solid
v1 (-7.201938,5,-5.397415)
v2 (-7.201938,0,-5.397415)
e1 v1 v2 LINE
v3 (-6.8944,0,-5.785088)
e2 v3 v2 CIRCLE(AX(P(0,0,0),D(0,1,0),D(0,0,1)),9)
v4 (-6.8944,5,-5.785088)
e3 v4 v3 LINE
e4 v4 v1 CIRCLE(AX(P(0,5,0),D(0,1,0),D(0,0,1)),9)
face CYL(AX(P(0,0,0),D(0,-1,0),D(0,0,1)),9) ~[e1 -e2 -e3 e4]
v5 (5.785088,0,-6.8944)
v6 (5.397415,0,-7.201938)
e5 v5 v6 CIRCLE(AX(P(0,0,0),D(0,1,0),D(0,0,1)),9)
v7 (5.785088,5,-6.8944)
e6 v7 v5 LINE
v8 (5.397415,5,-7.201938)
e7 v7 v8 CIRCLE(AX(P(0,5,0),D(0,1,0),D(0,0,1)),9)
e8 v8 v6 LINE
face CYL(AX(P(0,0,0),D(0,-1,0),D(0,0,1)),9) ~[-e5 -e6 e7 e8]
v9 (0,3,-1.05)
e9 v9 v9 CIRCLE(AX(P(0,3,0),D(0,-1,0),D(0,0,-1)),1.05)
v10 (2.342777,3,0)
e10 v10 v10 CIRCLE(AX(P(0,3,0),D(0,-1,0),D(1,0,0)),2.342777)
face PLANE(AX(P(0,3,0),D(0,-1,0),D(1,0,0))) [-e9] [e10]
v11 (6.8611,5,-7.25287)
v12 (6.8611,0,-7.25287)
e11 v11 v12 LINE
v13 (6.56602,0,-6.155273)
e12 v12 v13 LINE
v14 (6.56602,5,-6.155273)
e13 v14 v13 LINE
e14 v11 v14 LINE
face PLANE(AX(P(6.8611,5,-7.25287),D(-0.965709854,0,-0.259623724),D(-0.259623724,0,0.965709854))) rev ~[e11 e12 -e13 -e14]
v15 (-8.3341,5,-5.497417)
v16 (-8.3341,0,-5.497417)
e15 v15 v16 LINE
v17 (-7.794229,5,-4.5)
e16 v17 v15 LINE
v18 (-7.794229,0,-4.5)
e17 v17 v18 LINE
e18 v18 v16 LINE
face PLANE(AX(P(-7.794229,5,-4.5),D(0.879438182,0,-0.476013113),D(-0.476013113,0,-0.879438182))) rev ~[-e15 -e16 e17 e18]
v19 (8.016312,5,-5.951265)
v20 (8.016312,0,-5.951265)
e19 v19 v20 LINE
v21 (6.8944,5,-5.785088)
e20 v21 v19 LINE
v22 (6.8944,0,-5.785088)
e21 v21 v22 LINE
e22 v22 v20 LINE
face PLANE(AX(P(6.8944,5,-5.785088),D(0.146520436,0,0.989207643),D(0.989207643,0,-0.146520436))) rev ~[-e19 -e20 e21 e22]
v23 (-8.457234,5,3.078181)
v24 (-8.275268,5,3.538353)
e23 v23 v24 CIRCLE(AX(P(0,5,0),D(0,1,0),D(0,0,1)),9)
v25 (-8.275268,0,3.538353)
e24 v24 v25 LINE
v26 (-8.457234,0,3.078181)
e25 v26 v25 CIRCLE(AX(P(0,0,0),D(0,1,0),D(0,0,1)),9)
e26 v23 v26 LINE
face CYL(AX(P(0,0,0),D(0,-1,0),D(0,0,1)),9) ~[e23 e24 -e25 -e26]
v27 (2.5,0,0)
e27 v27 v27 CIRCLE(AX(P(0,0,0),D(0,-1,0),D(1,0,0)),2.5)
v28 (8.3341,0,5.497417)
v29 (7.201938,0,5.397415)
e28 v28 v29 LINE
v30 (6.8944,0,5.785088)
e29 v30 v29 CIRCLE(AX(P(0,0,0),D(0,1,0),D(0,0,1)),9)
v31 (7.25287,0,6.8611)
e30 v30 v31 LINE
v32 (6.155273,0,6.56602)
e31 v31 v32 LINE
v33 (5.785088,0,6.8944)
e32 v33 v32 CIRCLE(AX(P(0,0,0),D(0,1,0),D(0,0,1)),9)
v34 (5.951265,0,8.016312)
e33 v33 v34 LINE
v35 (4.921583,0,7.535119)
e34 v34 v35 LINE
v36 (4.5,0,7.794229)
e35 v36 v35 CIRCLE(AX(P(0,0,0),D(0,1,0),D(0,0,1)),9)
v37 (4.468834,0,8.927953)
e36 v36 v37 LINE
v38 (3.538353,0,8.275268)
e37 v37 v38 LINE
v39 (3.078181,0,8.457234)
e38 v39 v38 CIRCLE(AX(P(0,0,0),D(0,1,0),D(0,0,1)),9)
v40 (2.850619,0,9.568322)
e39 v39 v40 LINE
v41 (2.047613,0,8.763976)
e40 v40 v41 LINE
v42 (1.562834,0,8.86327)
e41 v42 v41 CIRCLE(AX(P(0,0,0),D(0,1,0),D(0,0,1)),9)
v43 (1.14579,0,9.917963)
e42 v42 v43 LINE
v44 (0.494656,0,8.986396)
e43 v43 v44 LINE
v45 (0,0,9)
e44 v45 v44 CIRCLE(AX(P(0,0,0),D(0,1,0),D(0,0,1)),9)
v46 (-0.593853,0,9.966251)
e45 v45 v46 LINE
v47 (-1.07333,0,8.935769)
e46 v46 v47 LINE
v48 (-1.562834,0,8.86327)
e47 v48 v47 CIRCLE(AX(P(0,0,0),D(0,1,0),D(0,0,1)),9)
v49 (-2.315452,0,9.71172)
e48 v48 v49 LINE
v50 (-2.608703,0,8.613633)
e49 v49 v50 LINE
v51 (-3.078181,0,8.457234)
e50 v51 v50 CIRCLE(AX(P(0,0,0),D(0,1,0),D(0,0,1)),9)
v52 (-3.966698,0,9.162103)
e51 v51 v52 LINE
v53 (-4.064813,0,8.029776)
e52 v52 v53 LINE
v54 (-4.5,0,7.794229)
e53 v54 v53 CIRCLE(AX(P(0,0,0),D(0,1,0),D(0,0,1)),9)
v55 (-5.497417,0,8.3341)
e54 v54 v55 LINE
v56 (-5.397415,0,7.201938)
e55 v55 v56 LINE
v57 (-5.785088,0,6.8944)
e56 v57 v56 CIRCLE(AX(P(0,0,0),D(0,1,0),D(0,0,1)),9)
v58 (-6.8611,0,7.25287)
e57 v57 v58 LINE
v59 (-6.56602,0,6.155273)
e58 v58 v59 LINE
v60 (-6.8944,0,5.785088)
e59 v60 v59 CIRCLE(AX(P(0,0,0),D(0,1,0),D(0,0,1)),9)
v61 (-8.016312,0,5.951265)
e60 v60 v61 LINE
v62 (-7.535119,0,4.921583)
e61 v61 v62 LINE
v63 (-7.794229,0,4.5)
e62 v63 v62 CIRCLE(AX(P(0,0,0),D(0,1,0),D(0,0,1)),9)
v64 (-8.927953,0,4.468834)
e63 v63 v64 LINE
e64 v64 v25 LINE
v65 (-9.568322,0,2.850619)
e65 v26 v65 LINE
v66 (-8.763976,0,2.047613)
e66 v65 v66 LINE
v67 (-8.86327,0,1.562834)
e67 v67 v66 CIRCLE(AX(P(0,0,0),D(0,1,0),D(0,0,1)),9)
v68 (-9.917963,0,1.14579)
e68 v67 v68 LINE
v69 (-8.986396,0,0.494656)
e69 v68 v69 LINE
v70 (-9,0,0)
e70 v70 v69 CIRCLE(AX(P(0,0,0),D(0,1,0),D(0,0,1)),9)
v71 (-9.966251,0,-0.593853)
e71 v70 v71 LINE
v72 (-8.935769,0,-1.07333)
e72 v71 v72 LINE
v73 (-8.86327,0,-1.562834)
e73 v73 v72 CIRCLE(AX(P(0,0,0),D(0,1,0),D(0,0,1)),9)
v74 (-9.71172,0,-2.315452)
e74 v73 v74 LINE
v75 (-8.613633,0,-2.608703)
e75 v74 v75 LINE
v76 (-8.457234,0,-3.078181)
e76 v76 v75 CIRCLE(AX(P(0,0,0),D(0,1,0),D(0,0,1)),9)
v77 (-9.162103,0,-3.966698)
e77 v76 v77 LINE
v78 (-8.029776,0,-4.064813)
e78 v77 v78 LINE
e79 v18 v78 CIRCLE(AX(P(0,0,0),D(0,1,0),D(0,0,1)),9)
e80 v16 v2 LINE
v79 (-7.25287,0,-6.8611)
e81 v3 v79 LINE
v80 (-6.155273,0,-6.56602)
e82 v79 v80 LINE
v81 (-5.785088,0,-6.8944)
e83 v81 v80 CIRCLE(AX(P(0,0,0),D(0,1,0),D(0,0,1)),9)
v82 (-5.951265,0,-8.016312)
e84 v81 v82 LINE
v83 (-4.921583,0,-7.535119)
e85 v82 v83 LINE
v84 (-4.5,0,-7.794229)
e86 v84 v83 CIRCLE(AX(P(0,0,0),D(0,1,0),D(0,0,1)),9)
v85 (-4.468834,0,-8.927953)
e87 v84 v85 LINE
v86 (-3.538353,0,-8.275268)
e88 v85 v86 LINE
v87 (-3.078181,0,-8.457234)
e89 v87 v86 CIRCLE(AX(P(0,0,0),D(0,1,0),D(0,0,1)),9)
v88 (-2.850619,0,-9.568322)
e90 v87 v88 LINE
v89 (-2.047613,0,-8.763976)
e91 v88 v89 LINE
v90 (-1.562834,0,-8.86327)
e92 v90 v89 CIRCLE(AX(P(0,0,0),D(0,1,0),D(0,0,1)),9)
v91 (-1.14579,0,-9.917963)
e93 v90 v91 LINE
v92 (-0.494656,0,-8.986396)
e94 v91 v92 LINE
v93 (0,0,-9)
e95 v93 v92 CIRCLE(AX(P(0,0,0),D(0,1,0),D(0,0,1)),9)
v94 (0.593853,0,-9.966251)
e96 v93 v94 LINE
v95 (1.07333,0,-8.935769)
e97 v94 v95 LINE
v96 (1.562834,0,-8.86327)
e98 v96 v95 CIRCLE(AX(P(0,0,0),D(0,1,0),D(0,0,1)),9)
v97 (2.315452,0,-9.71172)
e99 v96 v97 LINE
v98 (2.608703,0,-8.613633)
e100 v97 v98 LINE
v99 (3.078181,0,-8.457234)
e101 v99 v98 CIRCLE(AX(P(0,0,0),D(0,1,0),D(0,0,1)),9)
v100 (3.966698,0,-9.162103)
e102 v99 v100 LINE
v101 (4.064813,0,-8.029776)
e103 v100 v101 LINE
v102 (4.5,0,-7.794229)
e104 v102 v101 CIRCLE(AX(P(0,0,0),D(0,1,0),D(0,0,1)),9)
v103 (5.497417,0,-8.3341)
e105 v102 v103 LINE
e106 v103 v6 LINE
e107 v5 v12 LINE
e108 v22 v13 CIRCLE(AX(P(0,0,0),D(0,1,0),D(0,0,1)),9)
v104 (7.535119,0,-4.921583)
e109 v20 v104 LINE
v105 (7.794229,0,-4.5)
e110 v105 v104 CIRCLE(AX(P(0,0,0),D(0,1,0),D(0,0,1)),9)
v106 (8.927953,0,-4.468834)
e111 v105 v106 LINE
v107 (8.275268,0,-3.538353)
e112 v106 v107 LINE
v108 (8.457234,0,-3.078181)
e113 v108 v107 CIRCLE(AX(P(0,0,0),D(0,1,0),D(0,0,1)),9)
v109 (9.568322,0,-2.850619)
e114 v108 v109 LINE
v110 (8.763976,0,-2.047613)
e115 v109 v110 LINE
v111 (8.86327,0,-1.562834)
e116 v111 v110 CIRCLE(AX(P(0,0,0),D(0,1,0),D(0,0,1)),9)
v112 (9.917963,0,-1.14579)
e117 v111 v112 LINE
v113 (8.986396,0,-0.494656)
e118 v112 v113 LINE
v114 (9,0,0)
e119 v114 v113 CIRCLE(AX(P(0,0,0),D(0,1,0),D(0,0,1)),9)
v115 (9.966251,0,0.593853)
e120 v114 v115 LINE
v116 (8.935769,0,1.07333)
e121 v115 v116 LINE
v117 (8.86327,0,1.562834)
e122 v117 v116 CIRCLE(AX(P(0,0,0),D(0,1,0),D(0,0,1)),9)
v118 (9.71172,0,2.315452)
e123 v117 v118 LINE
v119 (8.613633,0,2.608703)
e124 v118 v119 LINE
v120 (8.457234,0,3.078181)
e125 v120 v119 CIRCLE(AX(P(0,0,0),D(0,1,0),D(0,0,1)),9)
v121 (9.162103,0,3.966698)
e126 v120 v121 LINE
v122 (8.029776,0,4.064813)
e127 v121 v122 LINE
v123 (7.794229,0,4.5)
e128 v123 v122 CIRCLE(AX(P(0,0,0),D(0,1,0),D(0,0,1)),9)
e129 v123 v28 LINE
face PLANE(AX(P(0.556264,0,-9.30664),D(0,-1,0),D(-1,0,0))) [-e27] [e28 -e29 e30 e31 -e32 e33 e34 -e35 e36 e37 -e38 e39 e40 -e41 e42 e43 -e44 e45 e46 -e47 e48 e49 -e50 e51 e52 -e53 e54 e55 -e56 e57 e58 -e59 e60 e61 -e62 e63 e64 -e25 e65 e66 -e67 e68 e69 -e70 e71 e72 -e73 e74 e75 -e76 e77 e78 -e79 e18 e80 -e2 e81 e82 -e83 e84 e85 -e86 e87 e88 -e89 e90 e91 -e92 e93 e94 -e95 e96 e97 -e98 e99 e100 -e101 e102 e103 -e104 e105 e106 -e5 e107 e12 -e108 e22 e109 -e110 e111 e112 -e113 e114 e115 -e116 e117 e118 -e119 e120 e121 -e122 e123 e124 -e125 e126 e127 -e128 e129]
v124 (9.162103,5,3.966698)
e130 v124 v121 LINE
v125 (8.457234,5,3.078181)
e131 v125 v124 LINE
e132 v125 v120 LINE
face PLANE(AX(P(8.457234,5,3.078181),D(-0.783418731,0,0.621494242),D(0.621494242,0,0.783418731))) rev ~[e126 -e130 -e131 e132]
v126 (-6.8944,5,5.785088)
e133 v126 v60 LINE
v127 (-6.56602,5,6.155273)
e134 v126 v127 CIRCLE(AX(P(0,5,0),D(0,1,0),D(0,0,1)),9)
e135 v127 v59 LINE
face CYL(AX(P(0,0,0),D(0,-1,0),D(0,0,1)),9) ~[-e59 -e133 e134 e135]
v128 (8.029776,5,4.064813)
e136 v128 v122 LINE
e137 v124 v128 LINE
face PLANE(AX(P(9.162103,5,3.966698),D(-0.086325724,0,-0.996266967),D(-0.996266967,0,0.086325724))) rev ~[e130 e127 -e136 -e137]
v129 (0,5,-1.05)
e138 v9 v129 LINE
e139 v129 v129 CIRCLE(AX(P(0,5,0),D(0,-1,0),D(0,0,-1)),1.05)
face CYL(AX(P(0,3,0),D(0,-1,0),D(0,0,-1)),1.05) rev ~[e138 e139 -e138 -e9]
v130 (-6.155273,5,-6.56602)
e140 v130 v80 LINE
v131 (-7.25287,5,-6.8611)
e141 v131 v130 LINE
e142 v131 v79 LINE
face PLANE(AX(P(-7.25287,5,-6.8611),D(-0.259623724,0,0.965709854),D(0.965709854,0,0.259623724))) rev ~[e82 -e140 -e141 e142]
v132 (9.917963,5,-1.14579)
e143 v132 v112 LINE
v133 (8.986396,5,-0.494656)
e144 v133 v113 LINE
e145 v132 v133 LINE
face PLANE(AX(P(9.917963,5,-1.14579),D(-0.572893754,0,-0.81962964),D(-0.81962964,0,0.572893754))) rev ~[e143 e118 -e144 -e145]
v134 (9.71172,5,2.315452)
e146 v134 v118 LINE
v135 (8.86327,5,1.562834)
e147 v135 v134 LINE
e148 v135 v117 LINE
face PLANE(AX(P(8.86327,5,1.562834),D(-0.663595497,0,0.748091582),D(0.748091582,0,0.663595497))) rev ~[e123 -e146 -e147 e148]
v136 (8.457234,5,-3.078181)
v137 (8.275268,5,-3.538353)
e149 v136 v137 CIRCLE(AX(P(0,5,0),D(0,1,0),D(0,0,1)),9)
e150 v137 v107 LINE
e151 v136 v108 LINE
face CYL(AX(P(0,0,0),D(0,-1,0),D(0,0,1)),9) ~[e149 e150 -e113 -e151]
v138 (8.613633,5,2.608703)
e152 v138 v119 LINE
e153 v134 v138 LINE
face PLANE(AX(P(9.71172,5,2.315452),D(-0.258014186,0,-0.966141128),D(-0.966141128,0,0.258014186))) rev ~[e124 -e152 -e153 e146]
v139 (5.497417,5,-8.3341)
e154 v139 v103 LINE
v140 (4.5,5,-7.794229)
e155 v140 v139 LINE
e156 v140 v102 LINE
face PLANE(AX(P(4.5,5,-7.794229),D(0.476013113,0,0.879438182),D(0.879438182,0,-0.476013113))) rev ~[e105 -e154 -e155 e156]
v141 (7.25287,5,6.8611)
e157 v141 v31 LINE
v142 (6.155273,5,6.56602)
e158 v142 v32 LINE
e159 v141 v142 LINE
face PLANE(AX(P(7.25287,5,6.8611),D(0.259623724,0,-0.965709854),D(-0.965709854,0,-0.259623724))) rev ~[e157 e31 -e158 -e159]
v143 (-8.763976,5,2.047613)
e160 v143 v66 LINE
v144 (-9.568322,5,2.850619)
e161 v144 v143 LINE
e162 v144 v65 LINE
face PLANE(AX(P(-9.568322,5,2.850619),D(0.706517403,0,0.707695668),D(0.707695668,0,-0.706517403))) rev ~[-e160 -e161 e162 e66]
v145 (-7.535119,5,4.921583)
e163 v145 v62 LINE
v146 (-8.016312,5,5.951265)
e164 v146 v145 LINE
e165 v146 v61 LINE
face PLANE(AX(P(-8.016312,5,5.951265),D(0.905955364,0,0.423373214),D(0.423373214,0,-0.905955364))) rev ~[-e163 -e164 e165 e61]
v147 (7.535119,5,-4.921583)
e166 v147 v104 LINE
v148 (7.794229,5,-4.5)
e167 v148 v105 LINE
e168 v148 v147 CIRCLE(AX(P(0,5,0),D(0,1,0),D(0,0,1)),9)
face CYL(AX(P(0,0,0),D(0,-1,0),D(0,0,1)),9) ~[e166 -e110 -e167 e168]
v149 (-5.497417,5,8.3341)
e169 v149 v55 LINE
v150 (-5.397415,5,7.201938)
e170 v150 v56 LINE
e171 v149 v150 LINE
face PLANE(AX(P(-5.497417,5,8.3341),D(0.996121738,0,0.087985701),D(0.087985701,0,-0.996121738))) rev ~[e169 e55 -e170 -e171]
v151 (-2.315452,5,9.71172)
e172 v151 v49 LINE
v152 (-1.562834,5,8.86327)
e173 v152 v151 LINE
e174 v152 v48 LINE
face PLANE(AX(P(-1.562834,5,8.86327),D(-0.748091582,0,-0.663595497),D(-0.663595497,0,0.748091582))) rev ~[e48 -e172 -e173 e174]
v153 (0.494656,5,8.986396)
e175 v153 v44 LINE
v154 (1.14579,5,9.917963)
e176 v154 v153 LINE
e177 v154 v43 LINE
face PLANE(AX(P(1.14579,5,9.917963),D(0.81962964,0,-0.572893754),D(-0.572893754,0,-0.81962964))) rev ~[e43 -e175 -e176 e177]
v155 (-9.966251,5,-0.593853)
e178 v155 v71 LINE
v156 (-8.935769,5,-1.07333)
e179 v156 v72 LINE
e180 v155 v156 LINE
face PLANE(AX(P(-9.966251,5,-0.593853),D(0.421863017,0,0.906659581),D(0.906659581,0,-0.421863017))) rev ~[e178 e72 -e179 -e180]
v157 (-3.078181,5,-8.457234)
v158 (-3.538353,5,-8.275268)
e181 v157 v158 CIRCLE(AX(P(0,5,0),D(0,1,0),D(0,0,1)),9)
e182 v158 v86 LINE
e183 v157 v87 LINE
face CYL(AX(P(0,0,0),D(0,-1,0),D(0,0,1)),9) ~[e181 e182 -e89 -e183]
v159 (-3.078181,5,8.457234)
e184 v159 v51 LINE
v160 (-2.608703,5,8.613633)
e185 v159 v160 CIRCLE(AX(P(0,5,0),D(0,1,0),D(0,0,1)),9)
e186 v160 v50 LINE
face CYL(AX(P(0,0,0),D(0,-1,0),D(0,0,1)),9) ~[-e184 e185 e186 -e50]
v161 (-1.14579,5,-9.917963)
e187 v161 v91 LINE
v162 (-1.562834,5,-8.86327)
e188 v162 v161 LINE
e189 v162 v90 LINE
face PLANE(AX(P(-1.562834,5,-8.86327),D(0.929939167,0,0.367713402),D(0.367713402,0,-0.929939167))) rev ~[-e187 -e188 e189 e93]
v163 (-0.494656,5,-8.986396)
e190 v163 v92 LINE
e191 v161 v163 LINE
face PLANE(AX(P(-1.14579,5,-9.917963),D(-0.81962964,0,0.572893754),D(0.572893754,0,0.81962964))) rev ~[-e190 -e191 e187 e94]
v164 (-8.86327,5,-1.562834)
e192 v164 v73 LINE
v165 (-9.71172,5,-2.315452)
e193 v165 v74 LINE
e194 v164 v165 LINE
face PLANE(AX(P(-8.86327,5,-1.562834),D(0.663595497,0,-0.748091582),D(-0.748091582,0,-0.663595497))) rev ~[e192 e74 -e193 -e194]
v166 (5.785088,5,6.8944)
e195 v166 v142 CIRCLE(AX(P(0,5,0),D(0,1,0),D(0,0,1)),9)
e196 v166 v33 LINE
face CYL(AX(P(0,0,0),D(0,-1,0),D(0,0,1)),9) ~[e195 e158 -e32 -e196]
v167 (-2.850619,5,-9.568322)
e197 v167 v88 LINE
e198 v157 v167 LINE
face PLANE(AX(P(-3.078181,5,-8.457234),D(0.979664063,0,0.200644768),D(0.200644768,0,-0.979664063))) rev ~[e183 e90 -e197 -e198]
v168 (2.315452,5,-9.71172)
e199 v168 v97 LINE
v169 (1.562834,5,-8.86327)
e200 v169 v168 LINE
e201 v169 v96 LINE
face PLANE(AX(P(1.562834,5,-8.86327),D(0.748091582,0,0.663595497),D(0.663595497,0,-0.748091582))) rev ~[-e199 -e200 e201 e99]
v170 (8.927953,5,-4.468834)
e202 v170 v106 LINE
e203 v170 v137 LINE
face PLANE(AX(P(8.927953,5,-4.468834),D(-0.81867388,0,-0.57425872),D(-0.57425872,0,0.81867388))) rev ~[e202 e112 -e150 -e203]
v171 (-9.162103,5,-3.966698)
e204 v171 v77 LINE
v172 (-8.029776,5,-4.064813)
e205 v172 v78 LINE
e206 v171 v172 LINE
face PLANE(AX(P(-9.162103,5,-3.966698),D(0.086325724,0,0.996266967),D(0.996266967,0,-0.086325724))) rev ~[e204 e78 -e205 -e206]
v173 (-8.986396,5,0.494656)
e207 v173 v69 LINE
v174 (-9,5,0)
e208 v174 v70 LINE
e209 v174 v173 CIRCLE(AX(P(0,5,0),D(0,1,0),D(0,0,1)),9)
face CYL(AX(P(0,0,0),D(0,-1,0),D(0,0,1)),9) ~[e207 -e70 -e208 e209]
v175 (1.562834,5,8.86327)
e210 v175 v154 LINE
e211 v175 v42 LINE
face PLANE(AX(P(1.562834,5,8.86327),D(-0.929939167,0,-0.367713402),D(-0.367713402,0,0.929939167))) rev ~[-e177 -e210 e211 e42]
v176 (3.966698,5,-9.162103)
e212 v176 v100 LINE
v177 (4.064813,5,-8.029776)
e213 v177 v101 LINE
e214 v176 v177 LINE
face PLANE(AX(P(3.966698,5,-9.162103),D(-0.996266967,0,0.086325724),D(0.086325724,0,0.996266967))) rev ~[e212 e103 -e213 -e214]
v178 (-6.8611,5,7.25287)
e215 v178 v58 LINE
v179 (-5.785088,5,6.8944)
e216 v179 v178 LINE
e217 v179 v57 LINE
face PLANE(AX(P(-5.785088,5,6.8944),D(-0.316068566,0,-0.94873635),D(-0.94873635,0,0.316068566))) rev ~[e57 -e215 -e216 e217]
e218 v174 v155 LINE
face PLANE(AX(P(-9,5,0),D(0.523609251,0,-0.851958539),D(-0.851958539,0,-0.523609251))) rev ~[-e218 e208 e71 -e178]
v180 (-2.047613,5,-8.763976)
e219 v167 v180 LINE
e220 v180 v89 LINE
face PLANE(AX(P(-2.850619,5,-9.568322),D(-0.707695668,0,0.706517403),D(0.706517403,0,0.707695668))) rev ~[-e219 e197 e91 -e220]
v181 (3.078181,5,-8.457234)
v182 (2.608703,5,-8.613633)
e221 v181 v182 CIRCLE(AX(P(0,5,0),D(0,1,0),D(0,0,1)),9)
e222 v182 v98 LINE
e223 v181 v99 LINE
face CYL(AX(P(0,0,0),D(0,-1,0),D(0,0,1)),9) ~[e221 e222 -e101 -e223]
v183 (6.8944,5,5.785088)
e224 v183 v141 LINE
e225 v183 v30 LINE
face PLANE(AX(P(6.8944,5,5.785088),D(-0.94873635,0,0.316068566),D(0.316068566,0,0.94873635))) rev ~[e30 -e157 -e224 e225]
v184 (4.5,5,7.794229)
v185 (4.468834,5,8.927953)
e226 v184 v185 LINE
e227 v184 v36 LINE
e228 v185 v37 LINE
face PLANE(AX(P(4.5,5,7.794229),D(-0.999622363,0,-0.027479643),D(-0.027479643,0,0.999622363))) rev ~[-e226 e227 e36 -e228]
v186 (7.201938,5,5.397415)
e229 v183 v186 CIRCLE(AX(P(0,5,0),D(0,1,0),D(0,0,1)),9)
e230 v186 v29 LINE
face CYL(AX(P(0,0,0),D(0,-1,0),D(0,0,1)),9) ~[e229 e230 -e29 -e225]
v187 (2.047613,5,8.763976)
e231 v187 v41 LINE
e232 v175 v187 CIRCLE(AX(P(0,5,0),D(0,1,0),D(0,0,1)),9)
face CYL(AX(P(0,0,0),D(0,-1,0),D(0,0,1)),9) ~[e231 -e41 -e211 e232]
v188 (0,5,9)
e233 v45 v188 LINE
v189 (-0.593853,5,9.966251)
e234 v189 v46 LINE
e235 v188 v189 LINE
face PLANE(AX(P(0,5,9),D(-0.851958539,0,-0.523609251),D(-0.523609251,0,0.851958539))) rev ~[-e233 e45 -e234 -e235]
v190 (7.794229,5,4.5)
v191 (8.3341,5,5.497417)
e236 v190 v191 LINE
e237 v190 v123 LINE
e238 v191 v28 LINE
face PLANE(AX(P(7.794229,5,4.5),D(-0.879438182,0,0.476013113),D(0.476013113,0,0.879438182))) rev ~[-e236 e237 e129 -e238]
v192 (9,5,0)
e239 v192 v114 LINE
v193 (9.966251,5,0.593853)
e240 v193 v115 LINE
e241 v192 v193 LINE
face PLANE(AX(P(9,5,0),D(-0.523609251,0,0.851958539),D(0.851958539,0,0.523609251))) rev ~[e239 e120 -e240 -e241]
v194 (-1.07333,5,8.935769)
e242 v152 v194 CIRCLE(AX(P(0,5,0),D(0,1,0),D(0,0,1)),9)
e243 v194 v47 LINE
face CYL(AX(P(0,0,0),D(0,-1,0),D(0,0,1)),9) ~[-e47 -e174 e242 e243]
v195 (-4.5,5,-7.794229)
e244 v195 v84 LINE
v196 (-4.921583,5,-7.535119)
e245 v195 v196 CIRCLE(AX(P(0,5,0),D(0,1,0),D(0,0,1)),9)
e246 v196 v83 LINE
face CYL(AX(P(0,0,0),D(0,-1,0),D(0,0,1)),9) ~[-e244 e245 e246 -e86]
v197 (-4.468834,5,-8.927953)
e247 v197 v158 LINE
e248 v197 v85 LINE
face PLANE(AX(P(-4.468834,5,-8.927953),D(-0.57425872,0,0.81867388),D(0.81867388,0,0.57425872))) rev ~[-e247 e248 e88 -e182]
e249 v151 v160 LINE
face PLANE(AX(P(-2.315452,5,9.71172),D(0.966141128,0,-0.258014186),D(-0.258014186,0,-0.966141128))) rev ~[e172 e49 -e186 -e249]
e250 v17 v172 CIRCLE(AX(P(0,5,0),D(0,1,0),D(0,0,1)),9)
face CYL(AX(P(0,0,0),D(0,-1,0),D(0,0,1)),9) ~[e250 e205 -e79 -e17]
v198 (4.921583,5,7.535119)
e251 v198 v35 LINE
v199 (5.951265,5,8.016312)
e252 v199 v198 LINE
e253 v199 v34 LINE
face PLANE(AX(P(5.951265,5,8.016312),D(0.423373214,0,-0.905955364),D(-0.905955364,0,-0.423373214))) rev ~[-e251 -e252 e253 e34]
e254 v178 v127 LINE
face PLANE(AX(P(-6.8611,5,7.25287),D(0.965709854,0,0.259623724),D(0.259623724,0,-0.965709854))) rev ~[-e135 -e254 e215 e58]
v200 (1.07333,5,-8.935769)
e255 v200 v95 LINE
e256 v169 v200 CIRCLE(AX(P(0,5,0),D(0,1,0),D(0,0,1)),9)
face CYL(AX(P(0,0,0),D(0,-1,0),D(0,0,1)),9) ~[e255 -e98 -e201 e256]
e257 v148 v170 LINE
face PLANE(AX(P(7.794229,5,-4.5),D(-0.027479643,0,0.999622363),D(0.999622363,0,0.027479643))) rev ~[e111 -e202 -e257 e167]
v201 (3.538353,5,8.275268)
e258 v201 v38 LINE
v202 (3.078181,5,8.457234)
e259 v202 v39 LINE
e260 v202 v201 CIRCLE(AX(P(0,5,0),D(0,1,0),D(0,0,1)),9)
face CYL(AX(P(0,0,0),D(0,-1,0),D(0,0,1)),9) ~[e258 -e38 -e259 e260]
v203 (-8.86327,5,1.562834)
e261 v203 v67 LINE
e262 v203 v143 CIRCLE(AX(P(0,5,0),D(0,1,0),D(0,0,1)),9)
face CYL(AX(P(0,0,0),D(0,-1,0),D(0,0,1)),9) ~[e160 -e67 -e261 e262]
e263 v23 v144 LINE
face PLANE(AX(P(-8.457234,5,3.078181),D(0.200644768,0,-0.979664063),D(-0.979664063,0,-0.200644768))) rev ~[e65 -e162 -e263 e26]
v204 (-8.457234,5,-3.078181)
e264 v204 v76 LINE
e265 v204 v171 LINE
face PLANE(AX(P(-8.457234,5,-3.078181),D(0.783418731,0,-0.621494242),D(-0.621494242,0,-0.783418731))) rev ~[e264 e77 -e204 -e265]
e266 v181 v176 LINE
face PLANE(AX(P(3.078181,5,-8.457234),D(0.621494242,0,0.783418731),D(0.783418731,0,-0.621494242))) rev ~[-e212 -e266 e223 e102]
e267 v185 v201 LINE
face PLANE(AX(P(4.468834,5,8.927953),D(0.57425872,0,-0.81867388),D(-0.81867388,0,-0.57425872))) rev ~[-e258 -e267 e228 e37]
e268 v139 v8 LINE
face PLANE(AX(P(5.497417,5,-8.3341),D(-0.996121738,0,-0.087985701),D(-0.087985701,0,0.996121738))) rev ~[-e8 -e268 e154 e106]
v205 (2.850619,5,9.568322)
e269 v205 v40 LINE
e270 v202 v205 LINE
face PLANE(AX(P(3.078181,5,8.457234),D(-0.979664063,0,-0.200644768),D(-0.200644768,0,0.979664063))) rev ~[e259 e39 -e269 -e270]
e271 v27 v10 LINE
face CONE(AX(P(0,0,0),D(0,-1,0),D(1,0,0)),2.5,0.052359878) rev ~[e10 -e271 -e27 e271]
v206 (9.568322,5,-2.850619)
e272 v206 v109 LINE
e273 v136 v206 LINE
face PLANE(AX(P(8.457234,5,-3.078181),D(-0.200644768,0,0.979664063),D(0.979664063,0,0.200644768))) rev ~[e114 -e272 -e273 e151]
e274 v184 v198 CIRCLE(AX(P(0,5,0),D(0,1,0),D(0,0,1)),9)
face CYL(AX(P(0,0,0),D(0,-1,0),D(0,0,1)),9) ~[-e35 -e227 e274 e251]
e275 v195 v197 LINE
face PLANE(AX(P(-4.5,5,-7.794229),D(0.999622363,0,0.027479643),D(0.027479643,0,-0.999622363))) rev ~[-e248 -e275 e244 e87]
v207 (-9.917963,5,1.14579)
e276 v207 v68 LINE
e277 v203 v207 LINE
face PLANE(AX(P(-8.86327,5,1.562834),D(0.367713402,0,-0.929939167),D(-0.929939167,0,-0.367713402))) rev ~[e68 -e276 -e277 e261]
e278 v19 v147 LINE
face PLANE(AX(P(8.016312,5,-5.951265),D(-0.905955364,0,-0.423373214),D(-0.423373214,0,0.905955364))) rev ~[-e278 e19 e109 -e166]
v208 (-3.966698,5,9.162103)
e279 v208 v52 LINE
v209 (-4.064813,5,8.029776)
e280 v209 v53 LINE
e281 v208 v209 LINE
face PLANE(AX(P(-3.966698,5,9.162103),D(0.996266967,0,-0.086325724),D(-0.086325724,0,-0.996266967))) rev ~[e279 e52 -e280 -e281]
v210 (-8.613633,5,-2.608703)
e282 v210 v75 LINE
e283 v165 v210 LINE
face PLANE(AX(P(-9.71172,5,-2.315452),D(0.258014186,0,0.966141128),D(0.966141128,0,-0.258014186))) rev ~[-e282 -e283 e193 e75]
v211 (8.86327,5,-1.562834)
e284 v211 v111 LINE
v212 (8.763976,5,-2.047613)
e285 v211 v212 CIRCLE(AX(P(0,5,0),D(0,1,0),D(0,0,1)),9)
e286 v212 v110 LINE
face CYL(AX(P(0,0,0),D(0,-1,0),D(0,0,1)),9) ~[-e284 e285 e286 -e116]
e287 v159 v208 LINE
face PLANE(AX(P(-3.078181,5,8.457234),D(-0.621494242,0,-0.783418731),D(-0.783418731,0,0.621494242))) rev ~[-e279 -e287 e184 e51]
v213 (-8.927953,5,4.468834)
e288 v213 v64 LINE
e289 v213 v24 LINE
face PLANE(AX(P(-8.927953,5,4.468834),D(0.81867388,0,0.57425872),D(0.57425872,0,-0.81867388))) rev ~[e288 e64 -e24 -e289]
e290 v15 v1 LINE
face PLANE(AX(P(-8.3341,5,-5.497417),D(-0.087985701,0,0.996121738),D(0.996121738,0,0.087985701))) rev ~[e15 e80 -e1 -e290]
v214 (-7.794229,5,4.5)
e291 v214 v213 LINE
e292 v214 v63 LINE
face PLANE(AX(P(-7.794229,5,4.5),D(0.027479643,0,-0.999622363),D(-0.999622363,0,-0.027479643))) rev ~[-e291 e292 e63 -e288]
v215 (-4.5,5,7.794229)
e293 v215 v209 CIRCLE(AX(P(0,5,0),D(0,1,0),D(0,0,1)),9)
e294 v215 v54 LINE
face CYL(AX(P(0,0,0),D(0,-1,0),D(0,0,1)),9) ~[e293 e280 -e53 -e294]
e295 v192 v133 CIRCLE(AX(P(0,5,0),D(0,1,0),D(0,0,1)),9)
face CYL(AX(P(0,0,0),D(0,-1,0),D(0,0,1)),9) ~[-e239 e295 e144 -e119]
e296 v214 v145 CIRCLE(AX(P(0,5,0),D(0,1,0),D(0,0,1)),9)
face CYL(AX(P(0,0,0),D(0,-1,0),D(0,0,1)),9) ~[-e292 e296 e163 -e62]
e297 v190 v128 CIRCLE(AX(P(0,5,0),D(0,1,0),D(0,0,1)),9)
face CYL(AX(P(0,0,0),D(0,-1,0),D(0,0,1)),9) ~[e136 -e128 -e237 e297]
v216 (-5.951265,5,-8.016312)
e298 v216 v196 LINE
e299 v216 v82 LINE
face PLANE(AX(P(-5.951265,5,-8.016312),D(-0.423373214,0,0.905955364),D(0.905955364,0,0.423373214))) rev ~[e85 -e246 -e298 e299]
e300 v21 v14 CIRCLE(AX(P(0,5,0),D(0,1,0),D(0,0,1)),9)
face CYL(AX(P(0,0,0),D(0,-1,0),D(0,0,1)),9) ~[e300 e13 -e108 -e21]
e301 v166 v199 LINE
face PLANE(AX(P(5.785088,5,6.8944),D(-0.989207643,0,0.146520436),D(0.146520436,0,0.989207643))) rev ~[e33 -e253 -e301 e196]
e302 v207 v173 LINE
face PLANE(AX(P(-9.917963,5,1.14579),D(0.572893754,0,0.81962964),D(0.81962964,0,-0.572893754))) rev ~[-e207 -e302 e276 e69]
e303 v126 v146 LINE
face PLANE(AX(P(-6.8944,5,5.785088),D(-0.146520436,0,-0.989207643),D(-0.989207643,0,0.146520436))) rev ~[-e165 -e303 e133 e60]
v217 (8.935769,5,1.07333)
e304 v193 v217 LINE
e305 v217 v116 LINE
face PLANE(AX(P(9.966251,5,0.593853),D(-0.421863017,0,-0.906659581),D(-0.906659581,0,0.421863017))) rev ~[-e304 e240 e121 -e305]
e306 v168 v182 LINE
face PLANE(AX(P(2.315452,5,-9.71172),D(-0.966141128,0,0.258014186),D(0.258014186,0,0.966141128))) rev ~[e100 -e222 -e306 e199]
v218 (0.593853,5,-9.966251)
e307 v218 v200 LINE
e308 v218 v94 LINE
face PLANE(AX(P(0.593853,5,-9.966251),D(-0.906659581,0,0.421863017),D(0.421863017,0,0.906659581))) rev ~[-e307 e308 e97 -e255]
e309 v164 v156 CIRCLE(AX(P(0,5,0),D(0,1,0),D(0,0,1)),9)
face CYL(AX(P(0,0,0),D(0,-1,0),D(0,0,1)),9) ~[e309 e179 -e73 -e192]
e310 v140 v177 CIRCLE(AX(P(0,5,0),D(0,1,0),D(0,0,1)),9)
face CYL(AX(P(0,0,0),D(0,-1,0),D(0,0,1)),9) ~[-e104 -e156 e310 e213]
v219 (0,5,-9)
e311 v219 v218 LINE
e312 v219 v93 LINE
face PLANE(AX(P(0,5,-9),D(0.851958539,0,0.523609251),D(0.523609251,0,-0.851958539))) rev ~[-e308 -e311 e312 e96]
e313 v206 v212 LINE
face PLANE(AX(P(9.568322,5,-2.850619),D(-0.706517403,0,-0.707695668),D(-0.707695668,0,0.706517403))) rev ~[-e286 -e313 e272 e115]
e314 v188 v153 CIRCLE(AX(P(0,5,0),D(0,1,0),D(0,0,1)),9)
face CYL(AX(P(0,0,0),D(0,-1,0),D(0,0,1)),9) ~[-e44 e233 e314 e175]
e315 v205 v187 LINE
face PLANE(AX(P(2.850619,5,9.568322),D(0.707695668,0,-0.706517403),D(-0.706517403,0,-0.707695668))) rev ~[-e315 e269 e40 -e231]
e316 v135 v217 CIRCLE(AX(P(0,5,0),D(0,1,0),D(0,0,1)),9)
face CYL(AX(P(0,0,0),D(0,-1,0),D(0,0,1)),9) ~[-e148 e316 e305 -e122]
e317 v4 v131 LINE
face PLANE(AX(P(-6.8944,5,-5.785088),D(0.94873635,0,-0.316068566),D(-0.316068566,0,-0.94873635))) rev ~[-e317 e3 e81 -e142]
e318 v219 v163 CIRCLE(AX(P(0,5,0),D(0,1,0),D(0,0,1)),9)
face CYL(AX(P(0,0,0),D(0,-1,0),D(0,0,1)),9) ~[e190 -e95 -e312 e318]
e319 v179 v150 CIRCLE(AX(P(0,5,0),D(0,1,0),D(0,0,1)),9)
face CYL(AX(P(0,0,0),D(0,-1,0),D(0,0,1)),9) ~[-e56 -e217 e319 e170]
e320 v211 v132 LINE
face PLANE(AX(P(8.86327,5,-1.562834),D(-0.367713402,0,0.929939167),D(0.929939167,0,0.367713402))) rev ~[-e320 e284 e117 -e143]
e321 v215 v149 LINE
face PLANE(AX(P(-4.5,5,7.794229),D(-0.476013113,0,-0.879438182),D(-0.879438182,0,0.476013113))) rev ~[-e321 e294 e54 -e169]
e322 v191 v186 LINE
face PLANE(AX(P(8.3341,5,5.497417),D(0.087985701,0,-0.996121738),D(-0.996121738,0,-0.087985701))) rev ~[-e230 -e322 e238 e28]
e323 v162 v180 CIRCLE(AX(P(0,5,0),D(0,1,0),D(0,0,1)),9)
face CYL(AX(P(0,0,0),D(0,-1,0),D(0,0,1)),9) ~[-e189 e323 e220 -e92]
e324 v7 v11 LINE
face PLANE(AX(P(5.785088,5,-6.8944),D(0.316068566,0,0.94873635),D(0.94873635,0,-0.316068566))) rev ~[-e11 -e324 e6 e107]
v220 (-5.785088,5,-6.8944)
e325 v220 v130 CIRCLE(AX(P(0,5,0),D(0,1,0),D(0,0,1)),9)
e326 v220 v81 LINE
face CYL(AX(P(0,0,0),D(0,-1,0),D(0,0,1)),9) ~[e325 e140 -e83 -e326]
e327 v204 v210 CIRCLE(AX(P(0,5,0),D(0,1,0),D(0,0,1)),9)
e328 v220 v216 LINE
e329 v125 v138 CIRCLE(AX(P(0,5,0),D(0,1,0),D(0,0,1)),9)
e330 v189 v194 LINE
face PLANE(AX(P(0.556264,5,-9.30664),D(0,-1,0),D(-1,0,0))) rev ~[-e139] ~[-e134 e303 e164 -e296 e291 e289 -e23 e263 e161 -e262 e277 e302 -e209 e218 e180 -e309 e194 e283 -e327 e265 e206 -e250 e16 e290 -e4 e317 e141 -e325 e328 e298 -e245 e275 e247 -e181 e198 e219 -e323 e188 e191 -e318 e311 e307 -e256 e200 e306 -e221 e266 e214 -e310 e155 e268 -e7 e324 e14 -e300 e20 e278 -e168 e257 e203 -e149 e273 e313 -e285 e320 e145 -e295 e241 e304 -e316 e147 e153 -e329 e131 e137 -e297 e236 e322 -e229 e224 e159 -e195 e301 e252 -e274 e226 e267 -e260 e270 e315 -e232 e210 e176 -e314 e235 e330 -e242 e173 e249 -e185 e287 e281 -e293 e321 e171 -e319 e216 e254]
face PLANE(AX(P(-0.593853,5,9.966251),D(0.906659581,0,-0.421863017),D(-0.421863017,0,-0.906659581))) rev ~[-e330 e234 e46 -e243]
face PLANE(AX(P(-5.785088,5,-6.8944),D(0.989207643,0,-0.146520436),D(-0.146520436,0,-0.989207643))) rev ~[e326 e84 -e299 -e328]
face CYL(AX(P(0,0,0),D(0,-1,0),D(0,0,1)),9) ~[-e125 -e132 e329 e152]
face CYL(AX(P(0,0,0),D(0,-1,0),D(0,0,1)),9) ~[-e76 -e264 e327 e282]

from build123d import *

# Parameters (mm, degrees)
SKETCH1_R           = 9
BOSS_EXTRUDE1_DEPTH = 5
SKETCH2_R           = 2.5
CUT_EXTRUDE1_DEPTH  = 3
CUT_EXTRUDE1_DRAFT  = -3
SKETCH3_R           = 1.05
CUT_EXTRUDE2_DEPTH  = 3
BOSS_EXTRUDE2_DEPTH = 5


with BuildPart() as part:
    # Sketch1 → Boss-Extrude1 (new body)
    with BuildSketch(Plane(origin=(0, 0, 0), x_dir=(1, 0, 0), z_dir=(0, 1, 0))):
        with Locations(Location((0, 0, 0), (0, 0, 270))):
            Circle(SKETCH1_R)
    extrude(amount=BOSS_EXTRUDE1_DEPTH)


with BuildPart() as cut_extrude1_tool:
    # Sketch2 → Cut-Extrude1 (with draft: the straight prism first)
    with BuildSketch(Plane.XZ):
        Circle(SKETCH2_R)
    extrude(amount=-CUT_EXTRUDE1_DEPTH)
    # Cut-Extrude1: the draft: its side faces are tilted about the plane it starts from
    cut_extrude1_sides = [cut_extrude1_tool.faces().sort_by_distance(p)[0] for p in [
        (-2.5, 1.5, 0),
    ]]
    draft(cut_extrude1_sides, Plane.XZ, CUT_EXTRUDE1_DRAFT)


with BuildPart() as part_1:
    add(part.part)

    # Cut-Extrude1: cut by cut_extrude1_tool
    add(cut_extrude1_tool.part, mode=Mode.SUBTRACT)

    # Sketch3 → Cut-Extrude2 (cut)
    with BuildSketch(Plane.XZ.offset(-3)):
        with Locations(Location((0, 0, 0), (0, 0, 270))):
            Circle(SKETCH3_R)
    extrude(amount=-CUT_EXTRUDE2_DEPTH, mode=Mode.SUBTRACT)

    # Sketch4 → Boss-Extrude2 (add)
    with BuildSketch(Plane(origin=(0, 5, 0), x_dir=(1, 0, 0), z_dir=(0, 1, 0))):
        Polygon((0, 9), (0.59385284, 9.966251069), (1.073329801, 8.935768749), align=None)
        Polygon((1.562833599, 8.863269777), (2.315452217, 9.711719857), (2.608703469, 8.613632579), align=None)
        Polygon((3.07818129, 8.457233587), (3.966697751, 9.162102953), (4.064813002, 8.029775542), align=None)
        Polygon((4.5, 7.794228634), (5.49741718, 8.334100186), (5.397415249, 7.201937839), align=None)
        Polygon((5.785088487, 6.894399988), (6.86110037, 7.252870002), (6.566019765, 6.155272898), align=None)
        Polygon((6.894399988, 5.785088487), (8.016312498, 5.951265034), (7.535119092, 4.921583105), align=None)
        Polygon((7.794228634, 4.5), (8.927953026, 4.468833889), (8.27526764, 3.5383535), align=None)
        Polygon((8.457233587, 3.07818129), (9.56832222, 2.850619487), (8.763976367, 2.047612815), align=None)
        Polygon((8.863269777, 1.562833599), (9.917962784, 1.145790455), (8.986396107, 0.49465645), align=None)
        Polygon((9, 0), (9.966251069, -0.59385284), (8.935768749, -1.073329801), align=None)
        Polygon((8.863269777, -1.562833599), (9.711719857, -2.315452217), (8.613632579, -2.608703469), align=None)
        Polygon((8.457233587, -3.07818129), (9.162102953, -3.966697751), (8.029775542, -4.064813002), align=None)
        Polygon((7.794228634, -4.5), (8.334100186, -5.49741718), (7.201937839, -5.397415249), align=None)
        Polygon((6.894399988, -5.785088487), (7.252870002, -6.86110037), (6.155272898, -6.566019765), align=None)
        Polygon((5.785088487, -6.894399988), (5.951265034, -8.016312498), (4.921583105, -7.535119092), align=None)
        Polygon((4.5, -7.794228634), (4.468833889, -8.927953026), (3.5383535, -8.27526764), align=None)
        Polygon((3.07818129, -8.457233587), (2.850619487, -9.56832222), (2.047612815, -8.763976367), align=None)
        Polygon((1.562833599, -8.863269777), (1.145790455, -9.917962784), (0.49465645, -8.986396107), align=None)
        Polygon((0, -9), (-0.59385284, -9.966251069), (-1.073329801, -8.935768749), align=None)
        Polygon((-1.562833599, -8.863269777), (-2.315452217, -9.711719857), (-2.608703469, -8.613632579), align=None)
        Polygon((-3.07818129, -8.457233587), (-3.966697751, -9.162102953), (-4.064813002, -8.029775542), align=None)
        Polygon((-4.5, -7.794228634), (-5.49741718, -8.334100186), (-5.397415249, -7.201937839), align=None)
        Polygon((-5.785088487, -6.894399988), (-6.86110037, -7.252870002), (-6.566019765, -6.155272898), align=None)
        Polygon((-6.894399988, -5.785088487), (-8.016312498, -5.951265034), (-7.535119092, -4.921583105), align=None)
        Polygon((-7.794228634, -4.5), (-8.927953026, -4.468833889), (-8.27526764, -3.5383535), align=None)
        Polygon((-8.457233587, -3.07818129), (-9.56832222, -2.850619487), (-8.763976367, -2.047612815), align=None)
        Polygon((-8.863269777, -1.562833599), (-9.917962784, -1.145790455), (-8.986396107, -0.49465645), align=None)
        Polygon((-9, 0), (-9.966251069, 0.59385284), (-8.935768749, 1.073329801), align=None)
        Polygon((-8.863269777, 1.562833599), (-9.711719857, 2.315452217), (-8.613632579, 2.608703469), align=None)
        Polygon((-8.457233587, 3.07818129), (-9.162102953, 3.966697751), (-8.029775542, 4.064813002), align=None)
        Polygon((-7.794228634, 4.5), (-8.334100186, 5.49741718), (-7.201937839, 5.397415249), align=None)
        Polygon((-6.894399988, 5.785088487), (-7.252870002, 6.86110037), (-6.155272898, 6.566019765), align=None)
        Polygon((-5.785088487, 6.894399988), (-5.951265034, 8.016312498), (-4.921583105, 7.535119092), align=None)
        Polygon((-4.5, 7.794228634), (-4.468833889, 8.927953026), (-3.5383535, 8.27526764), align=None)
        Polygon((-3.07818129, 8.457233587), (-2.850619487, 9.56832222), (-2.047612815, 8.763976367), align=None)
        Polygon((-1.562833599, 8.863269777), (-1.145790455, 9.917962784), (-0.49465645, 8.986396107), align=None)
    extrude(amount=-BOSS_EXTRUDE2_DEPTH)


solid = part_1.part
